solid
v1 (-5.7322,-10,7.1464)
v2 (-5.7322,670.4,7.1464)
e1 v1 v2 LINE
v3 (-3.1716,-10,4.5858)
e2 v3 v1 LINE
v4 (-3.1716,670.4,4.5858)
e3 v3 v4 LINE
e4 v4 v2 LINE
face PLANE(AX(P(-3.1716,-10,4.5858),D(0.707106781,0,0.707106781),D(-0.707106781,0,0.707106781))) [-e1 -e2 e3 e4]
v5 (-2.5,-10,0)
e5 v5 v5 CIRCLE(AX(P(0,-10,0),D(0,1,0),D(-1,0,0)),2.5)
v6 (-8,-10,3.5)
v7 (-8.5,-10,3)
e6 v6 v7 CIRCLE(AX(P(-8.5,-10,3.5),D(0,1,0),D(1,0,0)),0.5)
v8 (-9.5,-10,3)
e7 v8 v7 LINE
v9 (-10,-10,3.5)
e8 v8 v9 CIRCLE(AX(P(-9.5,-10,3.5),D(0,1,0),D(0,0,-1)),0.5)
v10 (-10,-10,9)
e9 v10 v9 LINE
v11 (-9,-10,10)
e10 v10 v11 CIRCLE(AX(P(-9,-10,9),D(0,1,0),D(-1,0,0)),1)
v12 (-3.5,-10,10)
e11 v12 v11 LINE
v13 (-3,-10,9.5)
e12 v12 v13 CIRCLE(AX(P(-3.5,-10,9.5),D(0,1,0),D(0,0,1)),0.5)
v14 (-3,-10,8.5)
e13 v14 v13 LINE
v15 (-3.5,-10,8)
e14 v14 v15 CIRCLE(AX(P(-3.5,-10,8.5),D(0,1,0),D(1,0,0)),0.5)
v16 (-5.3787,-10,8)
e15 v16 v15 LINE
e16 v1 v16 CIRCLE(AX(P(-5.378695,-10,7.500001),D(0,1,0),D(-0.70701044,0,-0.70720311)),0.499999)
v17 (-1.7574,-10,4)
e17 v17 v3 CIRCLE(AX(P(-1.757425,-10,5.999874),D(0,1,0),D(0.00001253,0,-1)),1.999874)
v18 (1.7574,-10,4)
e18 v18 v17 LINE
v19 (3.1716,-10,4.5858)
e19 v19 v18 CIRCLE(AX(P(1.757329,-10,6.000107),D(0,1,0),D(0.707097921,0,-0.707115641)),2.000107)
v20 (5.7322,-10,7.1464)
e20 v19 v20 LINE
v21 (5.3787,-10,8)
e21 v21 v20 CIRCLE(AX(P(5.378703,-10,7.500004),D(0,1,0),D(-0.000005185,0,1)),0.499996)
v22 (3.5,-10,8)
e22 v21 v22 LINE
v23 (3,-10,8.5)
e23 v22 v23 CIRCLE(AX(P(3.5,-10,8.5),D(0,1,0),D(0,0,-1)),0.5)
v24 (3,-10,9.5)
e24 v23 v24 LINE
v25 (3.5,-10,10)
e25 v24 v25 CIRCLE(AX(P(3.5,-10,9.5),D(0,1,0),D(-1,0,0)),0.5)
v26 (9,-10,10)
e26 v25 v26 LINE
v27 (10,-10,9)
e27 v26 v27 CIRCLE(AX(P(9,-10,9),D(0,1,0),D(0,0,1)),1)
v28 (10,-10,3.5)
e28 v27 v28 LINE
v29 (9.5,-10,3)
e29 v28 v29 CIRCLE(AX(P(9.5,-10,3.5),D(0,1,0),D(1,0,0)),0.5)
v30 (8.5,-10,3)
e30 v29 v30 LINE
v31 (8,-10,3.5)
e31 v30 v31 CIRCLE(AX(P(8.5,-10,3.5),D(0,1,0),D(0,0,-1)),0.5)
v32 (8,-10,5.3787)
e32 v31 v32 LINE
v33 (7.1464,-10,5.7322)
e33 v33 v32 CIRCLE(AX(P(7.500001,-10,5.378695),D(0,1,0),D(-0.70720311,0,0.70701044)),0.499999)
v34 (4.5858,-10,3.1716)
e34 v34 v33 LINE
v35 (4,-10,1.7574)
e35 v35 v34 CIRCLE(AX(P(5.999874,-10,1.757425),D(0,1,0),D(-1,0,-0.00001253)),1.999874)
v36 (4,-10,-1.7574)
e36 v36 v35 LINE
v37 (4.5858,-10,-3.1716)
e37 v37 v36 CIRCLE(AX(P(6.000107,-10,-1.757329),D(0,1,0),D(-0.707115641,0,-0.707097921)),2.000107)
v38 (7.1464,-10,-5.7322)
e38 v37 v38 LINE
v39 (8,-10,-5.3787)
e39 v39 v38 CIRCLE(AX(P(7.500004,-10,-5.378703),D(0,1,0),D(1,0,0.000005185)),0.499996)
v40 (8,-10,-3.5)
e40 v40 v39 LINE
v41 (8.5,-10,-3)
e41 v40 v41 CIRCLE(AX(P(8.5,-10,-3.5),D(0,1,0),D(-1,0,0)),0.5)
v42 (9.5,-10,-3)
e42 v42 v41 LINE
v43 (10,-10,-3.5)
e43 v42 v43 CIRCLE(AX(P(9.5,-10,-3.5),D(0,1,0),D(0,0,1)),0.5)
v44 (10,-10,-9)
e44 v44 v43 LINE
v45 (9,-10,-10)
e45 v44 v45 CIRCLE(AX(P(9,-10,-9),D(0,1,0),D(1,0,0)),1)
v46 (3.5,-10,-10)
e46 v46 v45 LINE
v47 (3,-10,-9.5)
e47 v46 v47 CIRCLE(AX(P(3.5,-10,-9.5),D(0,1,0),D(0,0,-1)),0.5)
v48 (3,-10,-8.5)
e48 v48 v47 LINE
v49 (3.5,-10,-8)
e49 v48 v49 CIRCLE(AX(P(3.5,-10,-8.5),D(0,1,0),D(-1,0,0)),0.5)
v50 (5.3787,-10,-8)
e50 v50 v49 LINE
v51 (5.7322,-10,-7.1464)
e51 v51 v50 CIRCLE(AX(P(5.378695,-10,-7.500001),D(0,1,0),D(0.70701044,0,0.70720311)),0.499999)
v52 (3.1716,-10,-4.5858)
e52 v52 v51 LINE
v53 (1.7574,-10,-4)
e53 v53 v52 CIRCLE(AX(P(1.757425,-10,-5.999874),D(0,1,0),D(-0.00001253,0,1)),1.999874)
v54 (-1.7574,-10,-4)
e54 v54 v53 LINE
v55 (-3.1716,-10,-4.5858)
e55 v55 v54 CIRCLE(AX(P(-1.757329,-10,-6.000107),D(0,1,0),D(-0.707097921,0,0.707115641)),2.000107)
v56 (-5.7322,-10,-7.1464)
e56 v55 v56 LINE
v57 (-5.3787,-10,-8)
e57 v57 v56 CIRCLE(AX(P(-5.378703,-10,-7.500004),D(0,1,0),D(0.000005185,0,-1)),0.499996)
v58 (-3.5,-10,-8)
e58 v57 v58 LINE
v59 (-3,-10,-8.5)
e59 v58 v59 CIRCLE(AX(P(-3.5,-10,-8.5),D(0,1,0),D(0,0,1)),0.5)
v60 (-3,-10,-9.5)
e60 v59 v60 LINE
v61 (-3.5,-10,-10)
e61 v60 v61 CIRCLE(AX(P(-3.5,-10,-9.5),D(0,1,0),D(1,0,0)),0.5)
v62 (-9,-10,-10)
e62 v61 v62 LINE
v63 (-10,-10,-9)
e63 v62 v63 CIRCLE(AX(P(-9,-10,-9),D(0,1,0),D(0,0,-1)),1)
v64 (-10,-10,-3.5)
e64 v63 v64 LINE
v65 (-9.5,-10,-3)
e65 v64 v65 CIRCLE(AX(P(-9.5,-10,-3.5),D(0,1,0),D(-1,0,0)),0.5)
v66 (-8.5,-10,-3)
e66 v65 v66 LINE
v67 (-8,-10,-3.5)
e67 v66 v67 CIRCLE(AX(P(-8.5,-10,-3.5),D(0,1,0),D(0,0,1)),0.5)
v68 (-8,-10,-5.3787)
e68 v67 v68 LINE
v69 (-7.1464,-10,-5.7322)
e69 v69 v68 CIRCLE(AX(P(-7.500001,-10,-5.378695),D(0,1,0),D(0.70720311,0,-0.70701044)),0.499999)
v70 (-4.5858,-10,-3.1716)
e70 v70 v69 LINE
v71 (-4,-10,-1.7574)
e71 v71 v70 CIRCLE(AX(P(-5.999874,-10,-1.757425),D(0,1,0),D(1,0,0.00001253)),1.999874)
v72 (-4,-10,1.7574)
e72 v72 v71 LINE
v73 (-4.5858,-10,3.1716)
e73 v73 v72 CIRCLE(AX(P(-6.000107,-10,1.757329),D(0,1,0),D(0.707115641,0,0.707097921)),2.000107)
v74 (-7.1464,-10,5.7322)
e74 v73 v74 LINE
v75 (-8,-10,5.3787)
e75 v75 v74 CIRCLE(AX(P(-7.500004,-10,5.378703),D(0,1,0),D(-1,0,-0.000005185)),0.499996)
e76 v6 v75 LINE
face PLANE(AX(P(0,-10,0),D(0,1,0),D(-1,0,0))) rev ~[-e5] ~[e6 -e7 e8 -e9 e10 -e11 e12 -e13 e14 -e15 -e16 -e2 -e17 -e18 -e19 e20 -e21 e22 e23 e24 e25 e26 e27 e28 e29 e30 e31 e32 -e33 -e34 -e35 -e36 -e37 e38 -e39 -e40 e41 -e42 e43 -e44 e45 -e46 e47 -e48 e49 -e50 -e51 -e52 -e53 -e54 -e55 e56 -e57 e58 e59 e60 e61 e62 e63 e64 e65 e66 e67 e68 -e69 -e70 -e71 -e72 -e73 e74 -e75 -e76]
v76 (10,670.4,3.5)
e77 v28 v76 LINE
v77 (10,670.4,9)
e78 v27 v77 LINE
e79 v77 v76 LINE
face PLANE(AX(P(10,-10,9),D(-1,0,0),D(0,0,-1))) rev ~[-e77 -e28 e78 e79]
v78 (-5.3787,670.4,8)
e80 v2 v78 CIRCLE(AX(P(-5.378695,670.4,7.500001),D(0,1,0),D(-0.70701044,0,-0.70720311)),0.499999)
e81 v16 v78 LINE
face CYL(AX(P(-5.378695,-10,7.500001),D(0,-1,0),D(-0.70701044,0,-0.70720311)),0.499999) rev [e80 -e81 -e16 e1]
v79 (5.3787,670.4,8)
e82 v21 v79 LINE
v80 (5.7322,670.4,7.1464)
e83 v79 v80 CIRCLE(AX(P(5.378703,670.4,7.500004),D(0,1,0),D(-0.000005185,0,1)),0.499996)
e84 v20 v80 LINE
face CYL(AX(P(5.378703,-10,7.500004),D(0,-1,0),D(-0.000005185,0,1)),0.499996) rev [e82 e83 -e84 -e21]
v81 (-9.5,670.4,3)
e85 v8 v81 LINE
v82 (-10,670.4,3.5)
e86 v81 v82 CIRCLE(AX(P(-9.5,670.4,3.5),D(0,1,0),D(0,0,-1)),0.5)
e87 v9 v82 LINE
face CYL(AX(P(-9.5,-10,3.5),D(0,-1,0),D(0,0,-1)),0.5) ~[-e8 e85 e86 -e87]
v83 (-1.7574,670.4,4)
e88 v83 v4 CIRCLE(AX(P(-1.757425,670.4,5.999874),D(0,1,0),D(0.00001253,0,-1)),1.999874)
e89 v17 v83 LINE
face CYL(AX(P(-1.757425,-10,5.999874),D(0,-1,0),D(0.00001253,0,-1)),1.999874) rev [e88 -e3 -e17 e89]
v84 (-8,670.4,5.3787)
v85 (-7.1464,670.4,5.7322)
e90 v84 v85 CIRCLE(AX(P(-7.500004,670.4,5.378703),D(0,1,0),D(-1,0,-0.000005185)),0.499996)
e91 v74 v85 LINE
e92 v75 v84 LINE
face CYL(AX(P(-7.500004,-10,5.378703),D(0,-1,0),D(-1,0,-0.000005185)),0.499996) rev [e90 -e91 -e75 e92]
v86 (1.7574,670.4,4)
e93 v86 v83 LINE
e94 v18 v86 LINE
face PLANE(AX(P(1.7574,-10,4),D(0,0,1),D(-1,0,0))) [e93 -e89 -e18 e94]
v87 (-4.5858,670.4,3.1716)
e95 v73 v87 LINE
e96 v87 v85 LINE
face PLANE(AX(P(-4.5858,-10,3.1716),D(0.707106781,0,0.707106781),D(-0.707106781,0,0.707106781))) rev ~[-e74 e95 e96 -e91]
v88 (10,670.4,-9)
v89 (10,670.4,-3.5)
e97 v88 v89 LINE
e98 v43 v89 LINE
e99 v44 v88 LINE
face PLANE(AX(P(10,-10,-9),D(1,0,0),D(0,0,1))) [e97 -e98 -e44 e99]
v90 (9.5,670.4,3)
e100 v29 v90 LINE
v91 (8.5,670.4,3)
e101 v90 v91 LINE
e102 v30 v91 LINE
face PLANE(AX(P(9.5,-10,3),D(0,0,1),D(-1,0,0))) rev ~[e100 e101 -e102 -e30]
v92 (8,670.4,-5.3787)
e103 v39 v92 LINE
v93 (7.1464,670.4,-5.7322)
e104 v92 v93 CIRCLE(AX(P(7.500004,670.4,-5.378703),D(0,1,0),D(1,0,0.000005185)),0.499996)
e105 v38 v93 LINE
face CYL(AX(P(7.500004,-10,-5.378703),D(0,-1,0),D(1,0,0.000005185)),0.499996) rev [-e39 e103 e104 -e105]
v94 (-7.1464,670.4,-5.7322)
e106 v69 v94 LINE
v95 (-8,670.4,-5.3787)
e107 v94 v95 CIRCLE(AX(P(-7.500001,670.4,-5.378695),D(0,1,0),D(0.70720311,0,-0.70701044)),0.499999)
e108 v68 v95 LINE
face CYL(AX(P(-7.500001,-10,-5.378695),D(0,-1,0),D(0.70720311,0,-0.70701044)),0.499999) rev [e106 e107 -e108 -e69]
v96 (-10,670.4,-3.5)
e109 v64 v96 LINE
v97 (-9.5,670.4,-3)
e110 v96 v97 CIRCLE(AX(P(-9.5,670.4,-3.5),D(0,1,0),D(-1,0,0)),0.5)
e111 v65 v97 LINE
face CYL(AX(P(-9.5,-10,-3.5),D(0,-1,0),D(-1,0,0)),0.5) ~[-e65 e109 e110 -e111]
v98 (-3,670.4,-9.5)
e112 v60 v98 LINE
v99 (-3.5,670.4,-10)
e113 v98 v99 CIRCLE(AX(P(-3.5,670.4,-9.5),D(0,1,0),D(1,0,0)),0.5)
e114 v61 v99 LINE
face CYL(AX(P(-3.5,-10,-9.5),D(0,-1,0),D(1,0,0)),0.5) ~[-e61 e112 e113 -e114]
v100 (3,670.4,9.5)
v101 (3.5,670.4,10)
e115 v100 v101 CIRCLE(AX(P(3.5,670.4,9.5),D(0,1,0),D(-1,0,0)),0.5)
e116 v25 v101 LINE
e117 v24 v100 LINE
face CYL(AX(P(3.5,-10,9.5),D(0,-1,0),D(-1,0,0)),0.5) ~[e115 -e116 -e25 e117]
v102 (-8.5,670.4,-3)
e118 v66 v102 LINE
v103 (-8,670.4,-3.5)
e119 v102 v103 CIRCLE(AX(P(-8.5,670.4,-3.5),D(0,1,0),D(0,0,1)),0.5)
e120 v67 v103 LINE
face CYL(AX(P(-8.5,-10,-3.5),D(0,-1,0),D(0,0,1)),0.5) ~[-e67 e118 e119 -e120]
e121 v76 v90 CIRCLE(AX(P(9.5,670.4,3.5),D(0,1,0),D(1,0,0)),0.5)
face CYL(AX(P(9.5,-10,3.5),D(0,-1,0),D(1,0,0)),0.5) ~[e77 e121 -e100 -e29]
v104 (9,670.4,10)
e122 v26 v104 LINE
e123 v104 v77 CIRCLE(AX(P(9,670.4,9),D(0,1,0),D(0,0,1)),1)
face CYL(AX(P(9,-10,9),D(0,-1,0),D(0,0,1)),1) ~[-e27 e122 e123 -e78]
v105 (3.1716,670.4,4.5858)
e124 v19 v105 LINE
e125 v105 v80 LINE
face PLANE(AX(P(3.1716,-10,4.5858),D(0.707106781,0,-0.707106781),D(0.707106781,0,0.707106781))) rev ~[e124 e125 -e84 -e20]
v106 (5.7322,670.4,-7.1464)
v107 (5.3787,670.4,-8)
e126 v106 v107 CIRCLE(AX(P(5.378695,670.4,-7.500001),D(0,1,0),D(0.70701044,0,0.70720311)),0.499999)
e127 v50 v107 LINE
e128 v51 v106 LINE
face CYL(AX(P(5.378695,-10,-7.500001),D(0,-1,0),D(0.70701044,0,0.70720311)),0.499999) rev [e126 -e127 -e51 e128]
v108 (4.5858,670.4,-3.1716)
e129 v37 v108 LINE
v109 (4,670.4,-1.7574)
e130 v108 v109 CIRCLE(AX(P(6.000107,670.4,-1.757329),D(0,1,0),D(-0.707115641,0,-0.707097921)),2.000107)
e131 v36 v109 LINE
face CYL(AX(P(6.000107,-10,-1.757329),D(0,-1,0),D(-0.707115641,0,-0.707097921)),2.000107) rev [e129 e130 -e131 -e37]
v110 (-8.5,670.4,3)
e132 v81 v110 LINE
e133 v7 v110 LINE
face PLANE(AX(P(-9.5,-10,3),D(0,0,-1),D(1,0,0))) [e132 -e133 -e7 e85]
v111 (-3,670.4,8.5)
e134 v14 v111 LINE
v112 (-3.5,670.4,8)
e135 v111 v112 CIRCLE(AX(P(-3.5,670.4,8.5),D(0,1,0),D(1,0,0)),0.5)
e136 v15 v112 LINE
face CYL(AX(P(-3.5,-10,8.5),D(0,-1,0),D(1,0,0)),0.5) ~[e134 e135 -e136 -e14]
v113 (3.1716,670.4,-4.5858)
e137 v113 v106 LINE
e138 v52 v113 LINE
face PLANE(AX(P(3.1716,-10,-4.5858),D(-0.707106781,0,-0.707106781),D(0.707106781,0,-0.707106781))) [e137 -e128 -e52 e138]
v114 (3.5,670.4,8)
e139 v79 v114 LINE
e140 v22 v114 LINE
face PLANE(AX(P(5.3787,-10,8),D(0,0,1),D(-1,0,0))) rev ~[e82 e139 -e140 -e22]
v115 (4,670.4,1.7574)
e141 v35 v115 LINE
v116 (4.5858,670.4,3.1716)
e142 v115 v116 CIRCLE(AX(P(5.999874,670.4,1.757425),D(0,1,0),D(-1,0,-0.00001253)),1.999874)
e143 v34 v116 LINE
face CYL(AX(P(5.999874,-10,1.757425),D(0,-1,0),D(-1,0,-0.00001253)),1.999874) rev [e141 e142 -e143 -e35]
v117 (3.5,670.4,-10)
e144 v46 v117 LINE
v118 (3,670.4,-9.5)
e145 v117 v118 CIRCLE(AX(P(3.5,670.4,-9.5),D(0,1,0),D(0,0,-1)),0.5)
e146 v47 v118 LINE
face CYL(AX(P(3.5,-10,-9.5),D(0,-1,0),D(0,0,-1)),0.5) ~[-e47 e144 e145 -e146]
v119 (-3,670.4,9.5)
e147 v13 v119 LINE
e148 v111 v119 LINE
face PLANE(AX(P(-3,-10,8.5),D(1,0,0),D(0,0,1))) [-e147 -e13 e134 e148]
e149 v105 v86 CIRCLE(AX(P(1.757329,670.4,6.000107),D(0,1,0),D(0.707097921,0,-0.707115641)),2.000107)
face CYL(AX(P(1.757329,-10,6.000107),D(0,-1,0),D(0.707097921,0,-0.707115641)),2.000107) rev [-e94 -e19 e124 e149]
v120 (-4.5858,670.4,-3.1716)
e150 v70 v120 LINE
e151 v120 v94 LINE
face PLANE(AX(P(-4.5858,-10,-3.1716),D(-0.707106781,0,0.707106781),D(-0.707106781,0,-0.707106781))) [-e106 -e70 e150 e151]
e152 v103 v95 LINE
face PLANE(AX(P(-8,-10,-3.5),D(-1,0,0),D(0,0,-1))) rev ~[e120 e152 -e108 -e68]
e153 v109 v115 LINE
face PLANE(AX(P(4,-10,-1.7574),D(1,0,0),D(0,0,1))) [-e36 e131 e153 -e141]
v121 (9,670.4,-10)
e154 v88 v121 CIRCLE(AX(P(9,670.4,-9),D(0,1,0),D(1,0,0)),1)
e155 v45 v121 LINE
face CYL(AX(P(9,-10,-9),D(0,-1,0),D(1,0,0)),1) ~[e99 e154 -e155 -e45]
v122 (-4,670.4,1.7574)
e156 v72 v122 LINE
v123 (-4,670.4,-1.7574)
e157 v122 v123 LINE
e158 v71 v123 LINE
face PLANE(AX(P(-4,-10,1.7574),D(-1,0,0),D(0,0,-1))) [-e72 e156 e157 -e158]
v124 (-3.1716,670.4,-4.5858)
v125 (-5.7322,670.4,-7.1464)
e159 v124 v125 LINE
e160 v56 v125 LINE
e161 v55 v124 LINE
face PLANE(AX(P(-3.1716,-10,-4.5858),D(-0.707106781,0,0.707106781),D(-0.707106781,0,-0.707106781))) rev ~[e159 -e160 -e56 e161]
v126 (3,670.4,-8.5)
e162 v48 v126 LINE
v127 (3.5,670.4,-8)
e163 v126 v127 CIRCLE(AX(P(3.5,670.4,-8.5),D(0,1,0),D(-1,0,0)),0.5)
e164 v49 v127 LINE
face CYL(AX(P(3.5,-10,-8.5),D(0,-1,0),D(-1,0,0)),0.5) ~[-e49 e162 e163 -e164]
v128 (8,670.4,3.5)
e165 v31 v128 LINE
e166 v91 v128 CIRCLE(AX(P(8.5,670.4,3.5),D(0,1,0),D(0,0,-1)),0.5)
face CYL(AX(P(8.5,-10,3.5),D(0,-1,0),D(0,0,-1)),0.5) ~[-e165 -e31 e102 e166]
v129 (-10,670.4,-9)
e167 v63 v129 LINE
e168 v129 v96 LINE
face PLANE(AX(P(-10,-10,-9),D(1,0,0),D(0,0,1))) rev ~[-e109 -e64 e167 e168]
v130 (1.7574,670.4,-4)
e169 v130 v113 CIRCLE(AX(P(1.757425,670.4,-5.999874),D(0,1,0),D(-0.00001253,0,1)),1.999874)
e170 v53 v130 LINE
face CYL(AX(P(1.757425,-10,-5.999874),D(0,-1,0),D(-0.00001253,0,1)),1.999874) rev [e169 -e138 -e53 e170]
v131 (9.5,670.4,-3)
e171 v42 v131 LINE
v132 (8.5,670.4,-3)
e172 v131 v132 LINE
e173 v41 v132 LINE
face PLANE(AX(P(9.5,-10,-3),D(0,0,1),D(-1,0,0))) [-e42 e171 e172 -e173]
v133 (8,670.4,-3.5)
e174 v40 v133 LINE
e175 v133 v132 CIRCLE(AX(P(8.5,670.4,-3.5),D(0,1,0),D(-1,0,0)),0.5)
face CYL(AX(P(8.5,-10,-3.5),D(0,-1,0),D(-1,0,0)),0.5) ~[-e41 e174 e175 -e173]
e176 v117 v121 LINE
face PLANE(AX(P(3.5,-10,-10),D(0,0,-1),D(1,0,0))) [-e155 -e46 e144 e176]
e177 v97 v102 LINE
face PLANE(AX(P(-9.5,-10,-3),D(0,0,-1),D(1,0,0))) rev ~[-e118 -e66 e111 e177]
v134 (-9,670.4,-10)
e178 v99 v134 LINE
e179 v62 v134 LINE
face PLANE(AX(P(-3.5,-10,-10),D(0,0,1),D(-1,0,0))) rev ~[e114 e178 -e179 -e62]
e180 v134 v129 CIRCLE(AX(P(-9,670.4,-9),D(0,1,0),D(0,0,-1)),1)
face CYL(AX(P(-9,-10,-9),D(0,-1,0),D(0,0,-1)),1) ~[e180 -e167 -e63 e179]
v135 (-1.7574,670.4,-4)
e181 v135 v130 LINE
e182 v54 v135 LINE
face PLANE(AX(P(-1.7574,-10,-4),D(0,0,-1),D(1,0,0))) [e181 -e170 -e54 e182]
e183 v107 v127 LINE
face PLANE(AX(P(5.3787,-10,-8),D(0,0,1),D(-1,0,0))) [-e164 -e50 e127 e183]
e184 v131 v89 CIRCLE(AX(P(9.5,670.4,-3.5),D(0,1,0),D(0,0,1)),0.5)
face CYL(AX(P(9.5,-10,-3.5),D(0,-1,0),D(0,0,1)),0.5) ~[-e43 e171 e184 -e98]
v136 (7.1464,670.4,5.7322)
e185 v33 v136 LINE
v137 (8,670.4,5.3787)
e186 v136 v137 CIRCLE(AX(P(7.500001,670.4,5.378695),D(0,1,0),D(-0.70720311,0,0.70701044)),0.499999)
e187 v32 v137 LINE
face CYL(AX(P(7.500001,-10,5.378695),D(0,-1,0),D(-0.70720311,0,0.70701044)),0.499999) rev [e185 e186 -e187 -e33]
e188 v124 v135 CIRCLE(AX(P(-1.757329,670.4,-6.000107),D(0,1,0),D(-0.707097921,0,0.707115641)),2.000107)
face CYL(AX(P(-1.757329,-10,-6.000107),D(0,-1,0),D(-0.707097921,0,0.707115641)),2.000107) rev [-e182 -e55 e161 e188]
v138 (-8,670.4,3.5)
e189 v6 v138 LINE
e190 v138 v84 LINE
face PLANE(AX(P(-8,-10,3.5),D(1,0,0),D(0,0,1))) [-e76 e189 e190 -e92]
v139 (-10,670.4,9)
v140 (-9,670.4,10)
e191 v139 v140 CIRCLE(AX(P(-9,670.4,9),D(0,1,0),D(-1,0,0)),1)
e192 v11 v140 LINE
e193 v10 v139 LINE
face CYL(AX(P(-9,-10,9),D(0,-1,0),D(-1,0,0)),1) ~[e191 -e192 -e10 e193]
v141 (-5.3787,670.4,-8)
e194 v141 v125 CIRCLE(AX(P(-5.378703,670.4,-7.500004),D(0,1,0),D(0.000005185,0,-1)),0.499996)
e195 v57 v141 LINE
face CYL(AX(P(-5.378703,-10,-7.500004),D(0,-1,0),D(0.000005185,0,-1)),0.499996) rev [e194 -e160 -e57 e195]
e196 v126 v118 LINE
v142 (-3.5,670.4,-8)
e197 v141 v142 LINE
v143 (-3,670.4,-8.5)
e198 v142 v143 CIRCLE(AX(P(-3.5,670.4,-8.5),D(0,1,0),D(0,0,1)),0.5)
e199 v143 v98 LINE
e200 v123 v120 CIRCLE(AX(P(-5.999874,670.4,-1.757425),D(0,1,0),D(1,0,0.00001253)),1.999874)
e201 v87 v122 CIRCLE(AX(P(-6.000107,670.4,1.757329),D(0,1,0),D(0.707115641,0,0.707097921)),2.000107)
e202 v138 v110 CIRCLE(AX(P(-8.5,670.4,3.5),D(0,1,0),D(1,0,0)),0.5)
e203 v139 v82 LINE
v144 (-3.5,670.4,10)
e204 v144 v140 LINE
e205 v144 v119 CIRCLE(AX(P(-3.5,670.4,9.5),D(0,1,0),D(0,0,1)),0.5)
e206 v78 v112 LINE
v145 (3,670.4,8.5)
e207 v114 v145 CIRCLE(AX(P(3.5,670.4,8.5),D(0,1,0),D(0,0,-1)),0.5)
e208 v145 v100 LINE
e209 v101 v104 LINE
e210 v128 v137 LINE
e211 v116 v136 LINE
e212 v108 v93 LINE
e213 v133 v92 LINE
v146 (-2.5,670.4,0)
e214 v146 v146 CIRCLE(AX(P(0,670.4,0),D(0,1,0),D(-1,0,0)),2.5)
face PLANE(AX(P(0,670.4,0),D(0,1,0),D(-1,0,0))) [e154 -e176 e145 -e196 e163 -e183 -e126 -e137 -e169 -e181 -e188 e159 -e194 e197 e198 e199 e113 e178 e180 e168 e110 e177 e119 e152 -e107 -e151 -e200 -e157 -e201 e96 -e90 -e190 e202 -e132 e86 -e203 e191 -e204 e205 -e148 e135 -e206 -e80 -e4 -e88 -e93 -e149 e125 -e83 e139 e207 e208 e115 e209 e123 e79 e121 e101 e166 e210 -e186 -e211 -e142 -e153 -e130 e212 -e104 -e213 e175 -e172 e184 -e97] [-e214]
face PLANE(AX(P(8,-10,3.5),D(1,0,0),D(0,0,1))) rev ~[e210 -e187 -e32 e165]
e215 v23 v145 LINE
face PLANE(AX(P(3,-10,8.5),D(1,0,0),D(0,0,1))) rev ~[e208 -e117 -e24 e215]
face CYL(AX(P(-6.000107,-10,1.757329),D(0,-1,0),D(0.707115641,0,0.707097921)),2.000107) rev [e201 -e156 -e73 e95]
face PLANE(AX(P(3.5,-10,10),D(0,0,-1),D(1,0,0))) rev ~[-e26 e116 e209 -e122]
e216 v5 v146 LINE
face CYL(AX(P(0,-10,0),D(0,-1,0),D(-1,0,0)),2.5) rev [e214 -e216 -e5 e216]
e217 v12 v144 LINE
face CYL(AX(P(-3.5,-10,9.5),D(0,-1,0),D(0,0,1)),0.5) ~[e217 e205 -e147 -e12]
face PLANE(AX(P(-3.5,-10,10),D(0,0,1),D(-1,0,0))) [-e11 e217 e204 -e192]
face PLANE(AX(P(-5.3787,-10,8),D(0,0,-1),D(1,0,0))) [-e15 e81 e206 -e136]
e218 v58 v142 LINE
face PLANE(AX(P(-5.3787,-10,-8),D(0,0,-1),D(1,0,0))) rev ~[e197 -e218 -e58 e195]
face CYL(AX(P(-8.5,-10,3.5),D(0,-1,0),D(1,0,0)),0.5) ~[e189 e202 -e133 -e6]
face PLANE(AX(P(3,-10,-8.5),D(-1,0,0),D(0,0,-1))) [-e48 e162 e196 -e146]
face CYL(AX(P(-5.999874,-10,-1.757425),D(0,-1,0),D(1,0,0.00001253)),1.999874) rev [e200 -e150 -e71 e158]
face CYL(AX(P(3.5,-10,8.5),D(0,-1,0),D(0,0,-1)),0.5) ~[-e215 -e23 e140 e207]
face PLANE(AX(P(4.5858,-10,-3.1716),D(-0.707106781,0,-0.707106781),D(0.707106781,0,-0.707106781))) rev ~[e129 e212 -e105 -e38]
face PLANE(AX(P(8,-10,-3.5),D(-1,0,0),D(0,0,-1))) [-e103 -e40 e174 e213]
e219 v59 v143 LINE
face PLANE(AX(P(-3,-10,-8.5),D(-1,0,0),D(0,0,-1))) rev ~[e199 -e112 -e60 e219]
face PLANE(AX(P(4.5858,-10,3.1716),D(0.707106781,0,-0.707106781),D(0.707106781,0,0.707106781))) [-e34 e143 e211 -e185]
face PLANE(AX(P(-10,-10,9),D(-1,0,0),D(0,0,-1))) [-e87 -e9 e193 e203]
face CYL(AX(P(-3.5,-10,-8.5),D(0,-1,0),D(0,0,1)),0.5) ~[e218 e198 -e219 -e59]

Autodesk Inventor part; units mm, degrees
ref_plane "Start Plane" through (0, -10, 0) normal (0, 1, 0) x (-1, 0, 0)
ref_plane "End Plane" through (0, 670.4, 0) normal (0, 1, 0) x (-1, 0, 0)
sketch "Sketch" plane through (0, 0, 0) normal (0, 1, 0) x (-1, 0, 0)
  line L0 (-1.7574, 4) -> (1.7574, 4)
  line L1 (4, 1.7574) -> (4, -1.7574)
  line L2 (1.7574, -4) -> (-1.7574, -4)
  line L3 (-4, -1.7574) -> (-4, 1.7574)
  line L4 (4.5858, -3.1716) -> (7.1464, -5.7322)
  line L5 (3.1716, -4.5858) -> (5.7322, -7.1464)
  line L6 (5.3787, -8) -> (3.5, -8)
  line L7 (3, -8.5) -> (3, -9.5)
  line L8 (3.5, -10) -> (9, -10)
  line L9 (10, -9) -> (10, -3.5)
  line L10 (9.5, -3) -> (8.5, -3)
  line L11 (8, -3.5) -> (8, -5.3787)
  line L12 (4, 0) -> (-4, 0) construction
  line L13 (0, -4) -> (0, 4) construction
  arc A0 (4, -1.7574) -> (4.5858, -3.1716) centre (6, -1.7574) ccw
  arc A1 (3.1716, -4.5858) -> (1.7574, -4) centre (1.7574, -6) ccw
  arc A2 (3.5, -8) -> (3, -8.5) centre (3.5, -8.5) ccw
  arc A3 (3, -9.5) -> (3.5, -10) centre (3.5, -9.5) ccw
  arc A4 (10, -3.5) -> (9.5, -3) centre (9.5, -3.5) ccw
  arc A5 (8.5, -3) -> (8, -3.5) centre (8.5, -3.5) ccw
  arc A6 (7.1464, -5.7322) -> (8, -5.3787) centre (7.5, -5.3787) ccw
  arc A7 (5.3787, -8) -> (5.7322, -7.1464) centre (5.3787, -7.5) ccw
  arc A8 (9, -10) -> (10, -9) centre (9, -9) ccw
  line L14 (-4.5858, -3.1716) -> (-7.1464, -5.7322)
  line L15 (-3.1716, -4.5858) -> (-5.7322, -7.1464)
  line L16 (-5.3787, -8) -> (-3.5, -8)
  line L17 (-3, -8.5) -> (-3, -9.5)
  line L18 (-3.5, -10) -> (-9, -10)
  line L19 (-10, -9) -> (-10, -3.5)
  line L20 (-9.5, -3) -> (-8.5, -3)
  line L21 (-8, -3.5) -> (-8, -5.3787)
  arc A9 (-4.5858, -3.1716) -> (-4, -1.7574) centre (-6, -1.7574) ccw
  arc A10 (-1.7574, -4) -> (-3.1716, -4.5858) centre (-1.7574, -6) ccw
  arc A11 (-3, -8.5) -> (-3.5, -8) centre (-3.5, -8.5) ccw
  arc A12 (-3.5, -10) -> (-3, -9.5) centre (-3.5, -9.5) ccw
  arc A13 (-9.5, -3) -> (-10, -3.5) centre (-9.5, -3.5) ccw
  arc A14 (-8, -3.5) -> (-8.5, -3) centre (-8.5, -3.5) ccw
  arc A15 (-8, -5.3787) -> (-7.1464, -5.7322) centre (-7.5, -5.3787) ccw
  arc A16 (-5.7322, -7.1464) -> (-5.3787, -8) centre (-5.3787, -7.5) ccw
  arc A17 (-10, -9) -> (-9, -10) centre (-9, -9) ccw
  line L22 (4.5858, 3.1716) -> (7.1464, 5.7322)
  line L23 (3.1716, 4.5858) -> (5.7322, 7.1464)
  line L24 (5.3787, 8) -> (3.5, 8)
  line L25 (3, 8.5) -> (3, 9.5)
  line L26 (3.5, 10) -> (9, 10)
  line L27 (10, 9) -> (10, 3.5)
  line L28 (9.5, 3) -> (8.5, 3)
  line L29 (8, 3.5) -> (8, 5.3787)
  arc A18 (4.5858, 3.1716) -> (4, 1.7574) centre (6, 1.7574) ccw
  arc A19 (1.7574, 4) -> (3.1716, 4.5858) centre (1.7574, 6) ccw
  arc A20 (3, 8.5) -> (3.5, 8) centre (3.5, 8.5) ccw
  arc A21 (3.5, 10) -> (3, 9.5) centre (3.5, 9.5) ccw
  arc A22 (9.5, 3) -> (10, 3.5) centre (9.5, 3.5) ccw
  arc A23 (8, 3.5) -> (8.5, 3) centre (8.5, 3.5) ccw
  arc A24 (8, 5.3787) -> (7.1464, 5.7322) centre (7.5, 5.3787) ccw
  arc A25 (5.7322, 7.1464) -> (5.3787, 8) centre (5.3787, 7.5) ccw
  arc A26 (10, 9) -> (9, 10) centre (9, 9) ccw
  line L30 (-10, 9) -> (-10, 3.5)
  arc A27 (-9, 10) -> (-10, 9) centre (-9, 9) ccw
  arc A28 (-10, 3.5) -> (-9.5, 3) centre (-9.5, 3.5) ccw
  line L31 (-9.5, 3) -> (-8.5, 3)
  arc A29 (-8.5, 3) -> (-8, 3.5) centre (-8.5, 3.5) ccw
  line L32 (-8, 3.5) -> (-8, 5.3787)
  arc A30 (-7.1464, 5.7322) -> (-8, 5.3787) centre (-7.5, 5.3787) ccw
  line L33 (-4.5858, 3.1716) -> (-7.1464, 5.7322)
  line L34 (-3.1716, 4.5858) -> (-5.7322, 7.1464)
  arc A31 (-3.1716, 4.5858) -> (-1.7574, 4) centre (-1.7574, 6) ccw
  arc A32 (-4, 1.7574) -> (-4.5858, 3.1716) centre (-6, 1.7574) ccw
  arc A33 (-5.3787, 8) -> (-5.7322, 7.1464) centre (-5.3787, 7.5) ccw
  line L35 (-5.3787, 8) -> (-3.5, 8)
  arc A34 (-3.5, 8) -> (-3, 8.5) centre (-3.5, 8.5) ccw
  line L36 (-3, 8.5) -> (-3, 9.5)
  arc A35 (-3, 9.5) -> (-3.5, 10) centre (-3.5, 9.5) ccw
  line L37 (-3.5, 10) -> (-9, 10)
  circle A36 centre (0, 0) radius 2.5
  point P0 (3, -8)
  point P1 (3, -10)
  point P2 (10, -10)
  dimension "d3" = 2
  dimension "d4" = 2
  dimension "d5" = 7
  dimension "d6" = 2
  dimension "d7" = 0.5
  dimension "d8" = 1
  dimension "d9" = 20
  dimension "d10" = 20
  dimension "d11" = 8
  dimension "d13" = 5
  dimension "d14" = 8
extrude "Body" add sketch "Sketch" along normal up to surface (680.4 mm away) from surface at -10
sketch "Sketch4" plane through (0, 0, 0) normal (0, 1, 0) x (-1, 0, 0)
  line L0 (0, 0) -> (10, 0)
ref_plane "Work Plane4" through (0, 0, 0) normal (0, 0, -1) x (-1, 0, 0)
sketch "Sketch5" plane through (0, 0, 0) normal (0, 0, -1) x (-1, 0, 0)
  line L0 (-2, -10) -> (12, -10)
  line L1 (-2, 670.4) -> (12, 670.4)
  dimension "d22" = 680.4
ref_plane "Work Plane5" through (3.5, 670.4, 0) normal (0, 1, 0) x (1, 0, 0)
split "Split1" plane through (3.5, 670.4, 0) removes the side toward (0, 1, 0)
ref_plane "Work Plane6" through (-9, -10, -279.4) normal (0, -1, 0) x (1, 0, 0)
split "Split2" plane through (-9, -10, -279.4) removes the side toward (0, -1, 0)
equation "\"d18\" = Length + G_OFFSET_END"
equation "\"G_L\" = d22"
equation "\"Length\" = 660.4"
equation "\"G_OFFSET_END\" = 10"
properties part number "A3.3"
